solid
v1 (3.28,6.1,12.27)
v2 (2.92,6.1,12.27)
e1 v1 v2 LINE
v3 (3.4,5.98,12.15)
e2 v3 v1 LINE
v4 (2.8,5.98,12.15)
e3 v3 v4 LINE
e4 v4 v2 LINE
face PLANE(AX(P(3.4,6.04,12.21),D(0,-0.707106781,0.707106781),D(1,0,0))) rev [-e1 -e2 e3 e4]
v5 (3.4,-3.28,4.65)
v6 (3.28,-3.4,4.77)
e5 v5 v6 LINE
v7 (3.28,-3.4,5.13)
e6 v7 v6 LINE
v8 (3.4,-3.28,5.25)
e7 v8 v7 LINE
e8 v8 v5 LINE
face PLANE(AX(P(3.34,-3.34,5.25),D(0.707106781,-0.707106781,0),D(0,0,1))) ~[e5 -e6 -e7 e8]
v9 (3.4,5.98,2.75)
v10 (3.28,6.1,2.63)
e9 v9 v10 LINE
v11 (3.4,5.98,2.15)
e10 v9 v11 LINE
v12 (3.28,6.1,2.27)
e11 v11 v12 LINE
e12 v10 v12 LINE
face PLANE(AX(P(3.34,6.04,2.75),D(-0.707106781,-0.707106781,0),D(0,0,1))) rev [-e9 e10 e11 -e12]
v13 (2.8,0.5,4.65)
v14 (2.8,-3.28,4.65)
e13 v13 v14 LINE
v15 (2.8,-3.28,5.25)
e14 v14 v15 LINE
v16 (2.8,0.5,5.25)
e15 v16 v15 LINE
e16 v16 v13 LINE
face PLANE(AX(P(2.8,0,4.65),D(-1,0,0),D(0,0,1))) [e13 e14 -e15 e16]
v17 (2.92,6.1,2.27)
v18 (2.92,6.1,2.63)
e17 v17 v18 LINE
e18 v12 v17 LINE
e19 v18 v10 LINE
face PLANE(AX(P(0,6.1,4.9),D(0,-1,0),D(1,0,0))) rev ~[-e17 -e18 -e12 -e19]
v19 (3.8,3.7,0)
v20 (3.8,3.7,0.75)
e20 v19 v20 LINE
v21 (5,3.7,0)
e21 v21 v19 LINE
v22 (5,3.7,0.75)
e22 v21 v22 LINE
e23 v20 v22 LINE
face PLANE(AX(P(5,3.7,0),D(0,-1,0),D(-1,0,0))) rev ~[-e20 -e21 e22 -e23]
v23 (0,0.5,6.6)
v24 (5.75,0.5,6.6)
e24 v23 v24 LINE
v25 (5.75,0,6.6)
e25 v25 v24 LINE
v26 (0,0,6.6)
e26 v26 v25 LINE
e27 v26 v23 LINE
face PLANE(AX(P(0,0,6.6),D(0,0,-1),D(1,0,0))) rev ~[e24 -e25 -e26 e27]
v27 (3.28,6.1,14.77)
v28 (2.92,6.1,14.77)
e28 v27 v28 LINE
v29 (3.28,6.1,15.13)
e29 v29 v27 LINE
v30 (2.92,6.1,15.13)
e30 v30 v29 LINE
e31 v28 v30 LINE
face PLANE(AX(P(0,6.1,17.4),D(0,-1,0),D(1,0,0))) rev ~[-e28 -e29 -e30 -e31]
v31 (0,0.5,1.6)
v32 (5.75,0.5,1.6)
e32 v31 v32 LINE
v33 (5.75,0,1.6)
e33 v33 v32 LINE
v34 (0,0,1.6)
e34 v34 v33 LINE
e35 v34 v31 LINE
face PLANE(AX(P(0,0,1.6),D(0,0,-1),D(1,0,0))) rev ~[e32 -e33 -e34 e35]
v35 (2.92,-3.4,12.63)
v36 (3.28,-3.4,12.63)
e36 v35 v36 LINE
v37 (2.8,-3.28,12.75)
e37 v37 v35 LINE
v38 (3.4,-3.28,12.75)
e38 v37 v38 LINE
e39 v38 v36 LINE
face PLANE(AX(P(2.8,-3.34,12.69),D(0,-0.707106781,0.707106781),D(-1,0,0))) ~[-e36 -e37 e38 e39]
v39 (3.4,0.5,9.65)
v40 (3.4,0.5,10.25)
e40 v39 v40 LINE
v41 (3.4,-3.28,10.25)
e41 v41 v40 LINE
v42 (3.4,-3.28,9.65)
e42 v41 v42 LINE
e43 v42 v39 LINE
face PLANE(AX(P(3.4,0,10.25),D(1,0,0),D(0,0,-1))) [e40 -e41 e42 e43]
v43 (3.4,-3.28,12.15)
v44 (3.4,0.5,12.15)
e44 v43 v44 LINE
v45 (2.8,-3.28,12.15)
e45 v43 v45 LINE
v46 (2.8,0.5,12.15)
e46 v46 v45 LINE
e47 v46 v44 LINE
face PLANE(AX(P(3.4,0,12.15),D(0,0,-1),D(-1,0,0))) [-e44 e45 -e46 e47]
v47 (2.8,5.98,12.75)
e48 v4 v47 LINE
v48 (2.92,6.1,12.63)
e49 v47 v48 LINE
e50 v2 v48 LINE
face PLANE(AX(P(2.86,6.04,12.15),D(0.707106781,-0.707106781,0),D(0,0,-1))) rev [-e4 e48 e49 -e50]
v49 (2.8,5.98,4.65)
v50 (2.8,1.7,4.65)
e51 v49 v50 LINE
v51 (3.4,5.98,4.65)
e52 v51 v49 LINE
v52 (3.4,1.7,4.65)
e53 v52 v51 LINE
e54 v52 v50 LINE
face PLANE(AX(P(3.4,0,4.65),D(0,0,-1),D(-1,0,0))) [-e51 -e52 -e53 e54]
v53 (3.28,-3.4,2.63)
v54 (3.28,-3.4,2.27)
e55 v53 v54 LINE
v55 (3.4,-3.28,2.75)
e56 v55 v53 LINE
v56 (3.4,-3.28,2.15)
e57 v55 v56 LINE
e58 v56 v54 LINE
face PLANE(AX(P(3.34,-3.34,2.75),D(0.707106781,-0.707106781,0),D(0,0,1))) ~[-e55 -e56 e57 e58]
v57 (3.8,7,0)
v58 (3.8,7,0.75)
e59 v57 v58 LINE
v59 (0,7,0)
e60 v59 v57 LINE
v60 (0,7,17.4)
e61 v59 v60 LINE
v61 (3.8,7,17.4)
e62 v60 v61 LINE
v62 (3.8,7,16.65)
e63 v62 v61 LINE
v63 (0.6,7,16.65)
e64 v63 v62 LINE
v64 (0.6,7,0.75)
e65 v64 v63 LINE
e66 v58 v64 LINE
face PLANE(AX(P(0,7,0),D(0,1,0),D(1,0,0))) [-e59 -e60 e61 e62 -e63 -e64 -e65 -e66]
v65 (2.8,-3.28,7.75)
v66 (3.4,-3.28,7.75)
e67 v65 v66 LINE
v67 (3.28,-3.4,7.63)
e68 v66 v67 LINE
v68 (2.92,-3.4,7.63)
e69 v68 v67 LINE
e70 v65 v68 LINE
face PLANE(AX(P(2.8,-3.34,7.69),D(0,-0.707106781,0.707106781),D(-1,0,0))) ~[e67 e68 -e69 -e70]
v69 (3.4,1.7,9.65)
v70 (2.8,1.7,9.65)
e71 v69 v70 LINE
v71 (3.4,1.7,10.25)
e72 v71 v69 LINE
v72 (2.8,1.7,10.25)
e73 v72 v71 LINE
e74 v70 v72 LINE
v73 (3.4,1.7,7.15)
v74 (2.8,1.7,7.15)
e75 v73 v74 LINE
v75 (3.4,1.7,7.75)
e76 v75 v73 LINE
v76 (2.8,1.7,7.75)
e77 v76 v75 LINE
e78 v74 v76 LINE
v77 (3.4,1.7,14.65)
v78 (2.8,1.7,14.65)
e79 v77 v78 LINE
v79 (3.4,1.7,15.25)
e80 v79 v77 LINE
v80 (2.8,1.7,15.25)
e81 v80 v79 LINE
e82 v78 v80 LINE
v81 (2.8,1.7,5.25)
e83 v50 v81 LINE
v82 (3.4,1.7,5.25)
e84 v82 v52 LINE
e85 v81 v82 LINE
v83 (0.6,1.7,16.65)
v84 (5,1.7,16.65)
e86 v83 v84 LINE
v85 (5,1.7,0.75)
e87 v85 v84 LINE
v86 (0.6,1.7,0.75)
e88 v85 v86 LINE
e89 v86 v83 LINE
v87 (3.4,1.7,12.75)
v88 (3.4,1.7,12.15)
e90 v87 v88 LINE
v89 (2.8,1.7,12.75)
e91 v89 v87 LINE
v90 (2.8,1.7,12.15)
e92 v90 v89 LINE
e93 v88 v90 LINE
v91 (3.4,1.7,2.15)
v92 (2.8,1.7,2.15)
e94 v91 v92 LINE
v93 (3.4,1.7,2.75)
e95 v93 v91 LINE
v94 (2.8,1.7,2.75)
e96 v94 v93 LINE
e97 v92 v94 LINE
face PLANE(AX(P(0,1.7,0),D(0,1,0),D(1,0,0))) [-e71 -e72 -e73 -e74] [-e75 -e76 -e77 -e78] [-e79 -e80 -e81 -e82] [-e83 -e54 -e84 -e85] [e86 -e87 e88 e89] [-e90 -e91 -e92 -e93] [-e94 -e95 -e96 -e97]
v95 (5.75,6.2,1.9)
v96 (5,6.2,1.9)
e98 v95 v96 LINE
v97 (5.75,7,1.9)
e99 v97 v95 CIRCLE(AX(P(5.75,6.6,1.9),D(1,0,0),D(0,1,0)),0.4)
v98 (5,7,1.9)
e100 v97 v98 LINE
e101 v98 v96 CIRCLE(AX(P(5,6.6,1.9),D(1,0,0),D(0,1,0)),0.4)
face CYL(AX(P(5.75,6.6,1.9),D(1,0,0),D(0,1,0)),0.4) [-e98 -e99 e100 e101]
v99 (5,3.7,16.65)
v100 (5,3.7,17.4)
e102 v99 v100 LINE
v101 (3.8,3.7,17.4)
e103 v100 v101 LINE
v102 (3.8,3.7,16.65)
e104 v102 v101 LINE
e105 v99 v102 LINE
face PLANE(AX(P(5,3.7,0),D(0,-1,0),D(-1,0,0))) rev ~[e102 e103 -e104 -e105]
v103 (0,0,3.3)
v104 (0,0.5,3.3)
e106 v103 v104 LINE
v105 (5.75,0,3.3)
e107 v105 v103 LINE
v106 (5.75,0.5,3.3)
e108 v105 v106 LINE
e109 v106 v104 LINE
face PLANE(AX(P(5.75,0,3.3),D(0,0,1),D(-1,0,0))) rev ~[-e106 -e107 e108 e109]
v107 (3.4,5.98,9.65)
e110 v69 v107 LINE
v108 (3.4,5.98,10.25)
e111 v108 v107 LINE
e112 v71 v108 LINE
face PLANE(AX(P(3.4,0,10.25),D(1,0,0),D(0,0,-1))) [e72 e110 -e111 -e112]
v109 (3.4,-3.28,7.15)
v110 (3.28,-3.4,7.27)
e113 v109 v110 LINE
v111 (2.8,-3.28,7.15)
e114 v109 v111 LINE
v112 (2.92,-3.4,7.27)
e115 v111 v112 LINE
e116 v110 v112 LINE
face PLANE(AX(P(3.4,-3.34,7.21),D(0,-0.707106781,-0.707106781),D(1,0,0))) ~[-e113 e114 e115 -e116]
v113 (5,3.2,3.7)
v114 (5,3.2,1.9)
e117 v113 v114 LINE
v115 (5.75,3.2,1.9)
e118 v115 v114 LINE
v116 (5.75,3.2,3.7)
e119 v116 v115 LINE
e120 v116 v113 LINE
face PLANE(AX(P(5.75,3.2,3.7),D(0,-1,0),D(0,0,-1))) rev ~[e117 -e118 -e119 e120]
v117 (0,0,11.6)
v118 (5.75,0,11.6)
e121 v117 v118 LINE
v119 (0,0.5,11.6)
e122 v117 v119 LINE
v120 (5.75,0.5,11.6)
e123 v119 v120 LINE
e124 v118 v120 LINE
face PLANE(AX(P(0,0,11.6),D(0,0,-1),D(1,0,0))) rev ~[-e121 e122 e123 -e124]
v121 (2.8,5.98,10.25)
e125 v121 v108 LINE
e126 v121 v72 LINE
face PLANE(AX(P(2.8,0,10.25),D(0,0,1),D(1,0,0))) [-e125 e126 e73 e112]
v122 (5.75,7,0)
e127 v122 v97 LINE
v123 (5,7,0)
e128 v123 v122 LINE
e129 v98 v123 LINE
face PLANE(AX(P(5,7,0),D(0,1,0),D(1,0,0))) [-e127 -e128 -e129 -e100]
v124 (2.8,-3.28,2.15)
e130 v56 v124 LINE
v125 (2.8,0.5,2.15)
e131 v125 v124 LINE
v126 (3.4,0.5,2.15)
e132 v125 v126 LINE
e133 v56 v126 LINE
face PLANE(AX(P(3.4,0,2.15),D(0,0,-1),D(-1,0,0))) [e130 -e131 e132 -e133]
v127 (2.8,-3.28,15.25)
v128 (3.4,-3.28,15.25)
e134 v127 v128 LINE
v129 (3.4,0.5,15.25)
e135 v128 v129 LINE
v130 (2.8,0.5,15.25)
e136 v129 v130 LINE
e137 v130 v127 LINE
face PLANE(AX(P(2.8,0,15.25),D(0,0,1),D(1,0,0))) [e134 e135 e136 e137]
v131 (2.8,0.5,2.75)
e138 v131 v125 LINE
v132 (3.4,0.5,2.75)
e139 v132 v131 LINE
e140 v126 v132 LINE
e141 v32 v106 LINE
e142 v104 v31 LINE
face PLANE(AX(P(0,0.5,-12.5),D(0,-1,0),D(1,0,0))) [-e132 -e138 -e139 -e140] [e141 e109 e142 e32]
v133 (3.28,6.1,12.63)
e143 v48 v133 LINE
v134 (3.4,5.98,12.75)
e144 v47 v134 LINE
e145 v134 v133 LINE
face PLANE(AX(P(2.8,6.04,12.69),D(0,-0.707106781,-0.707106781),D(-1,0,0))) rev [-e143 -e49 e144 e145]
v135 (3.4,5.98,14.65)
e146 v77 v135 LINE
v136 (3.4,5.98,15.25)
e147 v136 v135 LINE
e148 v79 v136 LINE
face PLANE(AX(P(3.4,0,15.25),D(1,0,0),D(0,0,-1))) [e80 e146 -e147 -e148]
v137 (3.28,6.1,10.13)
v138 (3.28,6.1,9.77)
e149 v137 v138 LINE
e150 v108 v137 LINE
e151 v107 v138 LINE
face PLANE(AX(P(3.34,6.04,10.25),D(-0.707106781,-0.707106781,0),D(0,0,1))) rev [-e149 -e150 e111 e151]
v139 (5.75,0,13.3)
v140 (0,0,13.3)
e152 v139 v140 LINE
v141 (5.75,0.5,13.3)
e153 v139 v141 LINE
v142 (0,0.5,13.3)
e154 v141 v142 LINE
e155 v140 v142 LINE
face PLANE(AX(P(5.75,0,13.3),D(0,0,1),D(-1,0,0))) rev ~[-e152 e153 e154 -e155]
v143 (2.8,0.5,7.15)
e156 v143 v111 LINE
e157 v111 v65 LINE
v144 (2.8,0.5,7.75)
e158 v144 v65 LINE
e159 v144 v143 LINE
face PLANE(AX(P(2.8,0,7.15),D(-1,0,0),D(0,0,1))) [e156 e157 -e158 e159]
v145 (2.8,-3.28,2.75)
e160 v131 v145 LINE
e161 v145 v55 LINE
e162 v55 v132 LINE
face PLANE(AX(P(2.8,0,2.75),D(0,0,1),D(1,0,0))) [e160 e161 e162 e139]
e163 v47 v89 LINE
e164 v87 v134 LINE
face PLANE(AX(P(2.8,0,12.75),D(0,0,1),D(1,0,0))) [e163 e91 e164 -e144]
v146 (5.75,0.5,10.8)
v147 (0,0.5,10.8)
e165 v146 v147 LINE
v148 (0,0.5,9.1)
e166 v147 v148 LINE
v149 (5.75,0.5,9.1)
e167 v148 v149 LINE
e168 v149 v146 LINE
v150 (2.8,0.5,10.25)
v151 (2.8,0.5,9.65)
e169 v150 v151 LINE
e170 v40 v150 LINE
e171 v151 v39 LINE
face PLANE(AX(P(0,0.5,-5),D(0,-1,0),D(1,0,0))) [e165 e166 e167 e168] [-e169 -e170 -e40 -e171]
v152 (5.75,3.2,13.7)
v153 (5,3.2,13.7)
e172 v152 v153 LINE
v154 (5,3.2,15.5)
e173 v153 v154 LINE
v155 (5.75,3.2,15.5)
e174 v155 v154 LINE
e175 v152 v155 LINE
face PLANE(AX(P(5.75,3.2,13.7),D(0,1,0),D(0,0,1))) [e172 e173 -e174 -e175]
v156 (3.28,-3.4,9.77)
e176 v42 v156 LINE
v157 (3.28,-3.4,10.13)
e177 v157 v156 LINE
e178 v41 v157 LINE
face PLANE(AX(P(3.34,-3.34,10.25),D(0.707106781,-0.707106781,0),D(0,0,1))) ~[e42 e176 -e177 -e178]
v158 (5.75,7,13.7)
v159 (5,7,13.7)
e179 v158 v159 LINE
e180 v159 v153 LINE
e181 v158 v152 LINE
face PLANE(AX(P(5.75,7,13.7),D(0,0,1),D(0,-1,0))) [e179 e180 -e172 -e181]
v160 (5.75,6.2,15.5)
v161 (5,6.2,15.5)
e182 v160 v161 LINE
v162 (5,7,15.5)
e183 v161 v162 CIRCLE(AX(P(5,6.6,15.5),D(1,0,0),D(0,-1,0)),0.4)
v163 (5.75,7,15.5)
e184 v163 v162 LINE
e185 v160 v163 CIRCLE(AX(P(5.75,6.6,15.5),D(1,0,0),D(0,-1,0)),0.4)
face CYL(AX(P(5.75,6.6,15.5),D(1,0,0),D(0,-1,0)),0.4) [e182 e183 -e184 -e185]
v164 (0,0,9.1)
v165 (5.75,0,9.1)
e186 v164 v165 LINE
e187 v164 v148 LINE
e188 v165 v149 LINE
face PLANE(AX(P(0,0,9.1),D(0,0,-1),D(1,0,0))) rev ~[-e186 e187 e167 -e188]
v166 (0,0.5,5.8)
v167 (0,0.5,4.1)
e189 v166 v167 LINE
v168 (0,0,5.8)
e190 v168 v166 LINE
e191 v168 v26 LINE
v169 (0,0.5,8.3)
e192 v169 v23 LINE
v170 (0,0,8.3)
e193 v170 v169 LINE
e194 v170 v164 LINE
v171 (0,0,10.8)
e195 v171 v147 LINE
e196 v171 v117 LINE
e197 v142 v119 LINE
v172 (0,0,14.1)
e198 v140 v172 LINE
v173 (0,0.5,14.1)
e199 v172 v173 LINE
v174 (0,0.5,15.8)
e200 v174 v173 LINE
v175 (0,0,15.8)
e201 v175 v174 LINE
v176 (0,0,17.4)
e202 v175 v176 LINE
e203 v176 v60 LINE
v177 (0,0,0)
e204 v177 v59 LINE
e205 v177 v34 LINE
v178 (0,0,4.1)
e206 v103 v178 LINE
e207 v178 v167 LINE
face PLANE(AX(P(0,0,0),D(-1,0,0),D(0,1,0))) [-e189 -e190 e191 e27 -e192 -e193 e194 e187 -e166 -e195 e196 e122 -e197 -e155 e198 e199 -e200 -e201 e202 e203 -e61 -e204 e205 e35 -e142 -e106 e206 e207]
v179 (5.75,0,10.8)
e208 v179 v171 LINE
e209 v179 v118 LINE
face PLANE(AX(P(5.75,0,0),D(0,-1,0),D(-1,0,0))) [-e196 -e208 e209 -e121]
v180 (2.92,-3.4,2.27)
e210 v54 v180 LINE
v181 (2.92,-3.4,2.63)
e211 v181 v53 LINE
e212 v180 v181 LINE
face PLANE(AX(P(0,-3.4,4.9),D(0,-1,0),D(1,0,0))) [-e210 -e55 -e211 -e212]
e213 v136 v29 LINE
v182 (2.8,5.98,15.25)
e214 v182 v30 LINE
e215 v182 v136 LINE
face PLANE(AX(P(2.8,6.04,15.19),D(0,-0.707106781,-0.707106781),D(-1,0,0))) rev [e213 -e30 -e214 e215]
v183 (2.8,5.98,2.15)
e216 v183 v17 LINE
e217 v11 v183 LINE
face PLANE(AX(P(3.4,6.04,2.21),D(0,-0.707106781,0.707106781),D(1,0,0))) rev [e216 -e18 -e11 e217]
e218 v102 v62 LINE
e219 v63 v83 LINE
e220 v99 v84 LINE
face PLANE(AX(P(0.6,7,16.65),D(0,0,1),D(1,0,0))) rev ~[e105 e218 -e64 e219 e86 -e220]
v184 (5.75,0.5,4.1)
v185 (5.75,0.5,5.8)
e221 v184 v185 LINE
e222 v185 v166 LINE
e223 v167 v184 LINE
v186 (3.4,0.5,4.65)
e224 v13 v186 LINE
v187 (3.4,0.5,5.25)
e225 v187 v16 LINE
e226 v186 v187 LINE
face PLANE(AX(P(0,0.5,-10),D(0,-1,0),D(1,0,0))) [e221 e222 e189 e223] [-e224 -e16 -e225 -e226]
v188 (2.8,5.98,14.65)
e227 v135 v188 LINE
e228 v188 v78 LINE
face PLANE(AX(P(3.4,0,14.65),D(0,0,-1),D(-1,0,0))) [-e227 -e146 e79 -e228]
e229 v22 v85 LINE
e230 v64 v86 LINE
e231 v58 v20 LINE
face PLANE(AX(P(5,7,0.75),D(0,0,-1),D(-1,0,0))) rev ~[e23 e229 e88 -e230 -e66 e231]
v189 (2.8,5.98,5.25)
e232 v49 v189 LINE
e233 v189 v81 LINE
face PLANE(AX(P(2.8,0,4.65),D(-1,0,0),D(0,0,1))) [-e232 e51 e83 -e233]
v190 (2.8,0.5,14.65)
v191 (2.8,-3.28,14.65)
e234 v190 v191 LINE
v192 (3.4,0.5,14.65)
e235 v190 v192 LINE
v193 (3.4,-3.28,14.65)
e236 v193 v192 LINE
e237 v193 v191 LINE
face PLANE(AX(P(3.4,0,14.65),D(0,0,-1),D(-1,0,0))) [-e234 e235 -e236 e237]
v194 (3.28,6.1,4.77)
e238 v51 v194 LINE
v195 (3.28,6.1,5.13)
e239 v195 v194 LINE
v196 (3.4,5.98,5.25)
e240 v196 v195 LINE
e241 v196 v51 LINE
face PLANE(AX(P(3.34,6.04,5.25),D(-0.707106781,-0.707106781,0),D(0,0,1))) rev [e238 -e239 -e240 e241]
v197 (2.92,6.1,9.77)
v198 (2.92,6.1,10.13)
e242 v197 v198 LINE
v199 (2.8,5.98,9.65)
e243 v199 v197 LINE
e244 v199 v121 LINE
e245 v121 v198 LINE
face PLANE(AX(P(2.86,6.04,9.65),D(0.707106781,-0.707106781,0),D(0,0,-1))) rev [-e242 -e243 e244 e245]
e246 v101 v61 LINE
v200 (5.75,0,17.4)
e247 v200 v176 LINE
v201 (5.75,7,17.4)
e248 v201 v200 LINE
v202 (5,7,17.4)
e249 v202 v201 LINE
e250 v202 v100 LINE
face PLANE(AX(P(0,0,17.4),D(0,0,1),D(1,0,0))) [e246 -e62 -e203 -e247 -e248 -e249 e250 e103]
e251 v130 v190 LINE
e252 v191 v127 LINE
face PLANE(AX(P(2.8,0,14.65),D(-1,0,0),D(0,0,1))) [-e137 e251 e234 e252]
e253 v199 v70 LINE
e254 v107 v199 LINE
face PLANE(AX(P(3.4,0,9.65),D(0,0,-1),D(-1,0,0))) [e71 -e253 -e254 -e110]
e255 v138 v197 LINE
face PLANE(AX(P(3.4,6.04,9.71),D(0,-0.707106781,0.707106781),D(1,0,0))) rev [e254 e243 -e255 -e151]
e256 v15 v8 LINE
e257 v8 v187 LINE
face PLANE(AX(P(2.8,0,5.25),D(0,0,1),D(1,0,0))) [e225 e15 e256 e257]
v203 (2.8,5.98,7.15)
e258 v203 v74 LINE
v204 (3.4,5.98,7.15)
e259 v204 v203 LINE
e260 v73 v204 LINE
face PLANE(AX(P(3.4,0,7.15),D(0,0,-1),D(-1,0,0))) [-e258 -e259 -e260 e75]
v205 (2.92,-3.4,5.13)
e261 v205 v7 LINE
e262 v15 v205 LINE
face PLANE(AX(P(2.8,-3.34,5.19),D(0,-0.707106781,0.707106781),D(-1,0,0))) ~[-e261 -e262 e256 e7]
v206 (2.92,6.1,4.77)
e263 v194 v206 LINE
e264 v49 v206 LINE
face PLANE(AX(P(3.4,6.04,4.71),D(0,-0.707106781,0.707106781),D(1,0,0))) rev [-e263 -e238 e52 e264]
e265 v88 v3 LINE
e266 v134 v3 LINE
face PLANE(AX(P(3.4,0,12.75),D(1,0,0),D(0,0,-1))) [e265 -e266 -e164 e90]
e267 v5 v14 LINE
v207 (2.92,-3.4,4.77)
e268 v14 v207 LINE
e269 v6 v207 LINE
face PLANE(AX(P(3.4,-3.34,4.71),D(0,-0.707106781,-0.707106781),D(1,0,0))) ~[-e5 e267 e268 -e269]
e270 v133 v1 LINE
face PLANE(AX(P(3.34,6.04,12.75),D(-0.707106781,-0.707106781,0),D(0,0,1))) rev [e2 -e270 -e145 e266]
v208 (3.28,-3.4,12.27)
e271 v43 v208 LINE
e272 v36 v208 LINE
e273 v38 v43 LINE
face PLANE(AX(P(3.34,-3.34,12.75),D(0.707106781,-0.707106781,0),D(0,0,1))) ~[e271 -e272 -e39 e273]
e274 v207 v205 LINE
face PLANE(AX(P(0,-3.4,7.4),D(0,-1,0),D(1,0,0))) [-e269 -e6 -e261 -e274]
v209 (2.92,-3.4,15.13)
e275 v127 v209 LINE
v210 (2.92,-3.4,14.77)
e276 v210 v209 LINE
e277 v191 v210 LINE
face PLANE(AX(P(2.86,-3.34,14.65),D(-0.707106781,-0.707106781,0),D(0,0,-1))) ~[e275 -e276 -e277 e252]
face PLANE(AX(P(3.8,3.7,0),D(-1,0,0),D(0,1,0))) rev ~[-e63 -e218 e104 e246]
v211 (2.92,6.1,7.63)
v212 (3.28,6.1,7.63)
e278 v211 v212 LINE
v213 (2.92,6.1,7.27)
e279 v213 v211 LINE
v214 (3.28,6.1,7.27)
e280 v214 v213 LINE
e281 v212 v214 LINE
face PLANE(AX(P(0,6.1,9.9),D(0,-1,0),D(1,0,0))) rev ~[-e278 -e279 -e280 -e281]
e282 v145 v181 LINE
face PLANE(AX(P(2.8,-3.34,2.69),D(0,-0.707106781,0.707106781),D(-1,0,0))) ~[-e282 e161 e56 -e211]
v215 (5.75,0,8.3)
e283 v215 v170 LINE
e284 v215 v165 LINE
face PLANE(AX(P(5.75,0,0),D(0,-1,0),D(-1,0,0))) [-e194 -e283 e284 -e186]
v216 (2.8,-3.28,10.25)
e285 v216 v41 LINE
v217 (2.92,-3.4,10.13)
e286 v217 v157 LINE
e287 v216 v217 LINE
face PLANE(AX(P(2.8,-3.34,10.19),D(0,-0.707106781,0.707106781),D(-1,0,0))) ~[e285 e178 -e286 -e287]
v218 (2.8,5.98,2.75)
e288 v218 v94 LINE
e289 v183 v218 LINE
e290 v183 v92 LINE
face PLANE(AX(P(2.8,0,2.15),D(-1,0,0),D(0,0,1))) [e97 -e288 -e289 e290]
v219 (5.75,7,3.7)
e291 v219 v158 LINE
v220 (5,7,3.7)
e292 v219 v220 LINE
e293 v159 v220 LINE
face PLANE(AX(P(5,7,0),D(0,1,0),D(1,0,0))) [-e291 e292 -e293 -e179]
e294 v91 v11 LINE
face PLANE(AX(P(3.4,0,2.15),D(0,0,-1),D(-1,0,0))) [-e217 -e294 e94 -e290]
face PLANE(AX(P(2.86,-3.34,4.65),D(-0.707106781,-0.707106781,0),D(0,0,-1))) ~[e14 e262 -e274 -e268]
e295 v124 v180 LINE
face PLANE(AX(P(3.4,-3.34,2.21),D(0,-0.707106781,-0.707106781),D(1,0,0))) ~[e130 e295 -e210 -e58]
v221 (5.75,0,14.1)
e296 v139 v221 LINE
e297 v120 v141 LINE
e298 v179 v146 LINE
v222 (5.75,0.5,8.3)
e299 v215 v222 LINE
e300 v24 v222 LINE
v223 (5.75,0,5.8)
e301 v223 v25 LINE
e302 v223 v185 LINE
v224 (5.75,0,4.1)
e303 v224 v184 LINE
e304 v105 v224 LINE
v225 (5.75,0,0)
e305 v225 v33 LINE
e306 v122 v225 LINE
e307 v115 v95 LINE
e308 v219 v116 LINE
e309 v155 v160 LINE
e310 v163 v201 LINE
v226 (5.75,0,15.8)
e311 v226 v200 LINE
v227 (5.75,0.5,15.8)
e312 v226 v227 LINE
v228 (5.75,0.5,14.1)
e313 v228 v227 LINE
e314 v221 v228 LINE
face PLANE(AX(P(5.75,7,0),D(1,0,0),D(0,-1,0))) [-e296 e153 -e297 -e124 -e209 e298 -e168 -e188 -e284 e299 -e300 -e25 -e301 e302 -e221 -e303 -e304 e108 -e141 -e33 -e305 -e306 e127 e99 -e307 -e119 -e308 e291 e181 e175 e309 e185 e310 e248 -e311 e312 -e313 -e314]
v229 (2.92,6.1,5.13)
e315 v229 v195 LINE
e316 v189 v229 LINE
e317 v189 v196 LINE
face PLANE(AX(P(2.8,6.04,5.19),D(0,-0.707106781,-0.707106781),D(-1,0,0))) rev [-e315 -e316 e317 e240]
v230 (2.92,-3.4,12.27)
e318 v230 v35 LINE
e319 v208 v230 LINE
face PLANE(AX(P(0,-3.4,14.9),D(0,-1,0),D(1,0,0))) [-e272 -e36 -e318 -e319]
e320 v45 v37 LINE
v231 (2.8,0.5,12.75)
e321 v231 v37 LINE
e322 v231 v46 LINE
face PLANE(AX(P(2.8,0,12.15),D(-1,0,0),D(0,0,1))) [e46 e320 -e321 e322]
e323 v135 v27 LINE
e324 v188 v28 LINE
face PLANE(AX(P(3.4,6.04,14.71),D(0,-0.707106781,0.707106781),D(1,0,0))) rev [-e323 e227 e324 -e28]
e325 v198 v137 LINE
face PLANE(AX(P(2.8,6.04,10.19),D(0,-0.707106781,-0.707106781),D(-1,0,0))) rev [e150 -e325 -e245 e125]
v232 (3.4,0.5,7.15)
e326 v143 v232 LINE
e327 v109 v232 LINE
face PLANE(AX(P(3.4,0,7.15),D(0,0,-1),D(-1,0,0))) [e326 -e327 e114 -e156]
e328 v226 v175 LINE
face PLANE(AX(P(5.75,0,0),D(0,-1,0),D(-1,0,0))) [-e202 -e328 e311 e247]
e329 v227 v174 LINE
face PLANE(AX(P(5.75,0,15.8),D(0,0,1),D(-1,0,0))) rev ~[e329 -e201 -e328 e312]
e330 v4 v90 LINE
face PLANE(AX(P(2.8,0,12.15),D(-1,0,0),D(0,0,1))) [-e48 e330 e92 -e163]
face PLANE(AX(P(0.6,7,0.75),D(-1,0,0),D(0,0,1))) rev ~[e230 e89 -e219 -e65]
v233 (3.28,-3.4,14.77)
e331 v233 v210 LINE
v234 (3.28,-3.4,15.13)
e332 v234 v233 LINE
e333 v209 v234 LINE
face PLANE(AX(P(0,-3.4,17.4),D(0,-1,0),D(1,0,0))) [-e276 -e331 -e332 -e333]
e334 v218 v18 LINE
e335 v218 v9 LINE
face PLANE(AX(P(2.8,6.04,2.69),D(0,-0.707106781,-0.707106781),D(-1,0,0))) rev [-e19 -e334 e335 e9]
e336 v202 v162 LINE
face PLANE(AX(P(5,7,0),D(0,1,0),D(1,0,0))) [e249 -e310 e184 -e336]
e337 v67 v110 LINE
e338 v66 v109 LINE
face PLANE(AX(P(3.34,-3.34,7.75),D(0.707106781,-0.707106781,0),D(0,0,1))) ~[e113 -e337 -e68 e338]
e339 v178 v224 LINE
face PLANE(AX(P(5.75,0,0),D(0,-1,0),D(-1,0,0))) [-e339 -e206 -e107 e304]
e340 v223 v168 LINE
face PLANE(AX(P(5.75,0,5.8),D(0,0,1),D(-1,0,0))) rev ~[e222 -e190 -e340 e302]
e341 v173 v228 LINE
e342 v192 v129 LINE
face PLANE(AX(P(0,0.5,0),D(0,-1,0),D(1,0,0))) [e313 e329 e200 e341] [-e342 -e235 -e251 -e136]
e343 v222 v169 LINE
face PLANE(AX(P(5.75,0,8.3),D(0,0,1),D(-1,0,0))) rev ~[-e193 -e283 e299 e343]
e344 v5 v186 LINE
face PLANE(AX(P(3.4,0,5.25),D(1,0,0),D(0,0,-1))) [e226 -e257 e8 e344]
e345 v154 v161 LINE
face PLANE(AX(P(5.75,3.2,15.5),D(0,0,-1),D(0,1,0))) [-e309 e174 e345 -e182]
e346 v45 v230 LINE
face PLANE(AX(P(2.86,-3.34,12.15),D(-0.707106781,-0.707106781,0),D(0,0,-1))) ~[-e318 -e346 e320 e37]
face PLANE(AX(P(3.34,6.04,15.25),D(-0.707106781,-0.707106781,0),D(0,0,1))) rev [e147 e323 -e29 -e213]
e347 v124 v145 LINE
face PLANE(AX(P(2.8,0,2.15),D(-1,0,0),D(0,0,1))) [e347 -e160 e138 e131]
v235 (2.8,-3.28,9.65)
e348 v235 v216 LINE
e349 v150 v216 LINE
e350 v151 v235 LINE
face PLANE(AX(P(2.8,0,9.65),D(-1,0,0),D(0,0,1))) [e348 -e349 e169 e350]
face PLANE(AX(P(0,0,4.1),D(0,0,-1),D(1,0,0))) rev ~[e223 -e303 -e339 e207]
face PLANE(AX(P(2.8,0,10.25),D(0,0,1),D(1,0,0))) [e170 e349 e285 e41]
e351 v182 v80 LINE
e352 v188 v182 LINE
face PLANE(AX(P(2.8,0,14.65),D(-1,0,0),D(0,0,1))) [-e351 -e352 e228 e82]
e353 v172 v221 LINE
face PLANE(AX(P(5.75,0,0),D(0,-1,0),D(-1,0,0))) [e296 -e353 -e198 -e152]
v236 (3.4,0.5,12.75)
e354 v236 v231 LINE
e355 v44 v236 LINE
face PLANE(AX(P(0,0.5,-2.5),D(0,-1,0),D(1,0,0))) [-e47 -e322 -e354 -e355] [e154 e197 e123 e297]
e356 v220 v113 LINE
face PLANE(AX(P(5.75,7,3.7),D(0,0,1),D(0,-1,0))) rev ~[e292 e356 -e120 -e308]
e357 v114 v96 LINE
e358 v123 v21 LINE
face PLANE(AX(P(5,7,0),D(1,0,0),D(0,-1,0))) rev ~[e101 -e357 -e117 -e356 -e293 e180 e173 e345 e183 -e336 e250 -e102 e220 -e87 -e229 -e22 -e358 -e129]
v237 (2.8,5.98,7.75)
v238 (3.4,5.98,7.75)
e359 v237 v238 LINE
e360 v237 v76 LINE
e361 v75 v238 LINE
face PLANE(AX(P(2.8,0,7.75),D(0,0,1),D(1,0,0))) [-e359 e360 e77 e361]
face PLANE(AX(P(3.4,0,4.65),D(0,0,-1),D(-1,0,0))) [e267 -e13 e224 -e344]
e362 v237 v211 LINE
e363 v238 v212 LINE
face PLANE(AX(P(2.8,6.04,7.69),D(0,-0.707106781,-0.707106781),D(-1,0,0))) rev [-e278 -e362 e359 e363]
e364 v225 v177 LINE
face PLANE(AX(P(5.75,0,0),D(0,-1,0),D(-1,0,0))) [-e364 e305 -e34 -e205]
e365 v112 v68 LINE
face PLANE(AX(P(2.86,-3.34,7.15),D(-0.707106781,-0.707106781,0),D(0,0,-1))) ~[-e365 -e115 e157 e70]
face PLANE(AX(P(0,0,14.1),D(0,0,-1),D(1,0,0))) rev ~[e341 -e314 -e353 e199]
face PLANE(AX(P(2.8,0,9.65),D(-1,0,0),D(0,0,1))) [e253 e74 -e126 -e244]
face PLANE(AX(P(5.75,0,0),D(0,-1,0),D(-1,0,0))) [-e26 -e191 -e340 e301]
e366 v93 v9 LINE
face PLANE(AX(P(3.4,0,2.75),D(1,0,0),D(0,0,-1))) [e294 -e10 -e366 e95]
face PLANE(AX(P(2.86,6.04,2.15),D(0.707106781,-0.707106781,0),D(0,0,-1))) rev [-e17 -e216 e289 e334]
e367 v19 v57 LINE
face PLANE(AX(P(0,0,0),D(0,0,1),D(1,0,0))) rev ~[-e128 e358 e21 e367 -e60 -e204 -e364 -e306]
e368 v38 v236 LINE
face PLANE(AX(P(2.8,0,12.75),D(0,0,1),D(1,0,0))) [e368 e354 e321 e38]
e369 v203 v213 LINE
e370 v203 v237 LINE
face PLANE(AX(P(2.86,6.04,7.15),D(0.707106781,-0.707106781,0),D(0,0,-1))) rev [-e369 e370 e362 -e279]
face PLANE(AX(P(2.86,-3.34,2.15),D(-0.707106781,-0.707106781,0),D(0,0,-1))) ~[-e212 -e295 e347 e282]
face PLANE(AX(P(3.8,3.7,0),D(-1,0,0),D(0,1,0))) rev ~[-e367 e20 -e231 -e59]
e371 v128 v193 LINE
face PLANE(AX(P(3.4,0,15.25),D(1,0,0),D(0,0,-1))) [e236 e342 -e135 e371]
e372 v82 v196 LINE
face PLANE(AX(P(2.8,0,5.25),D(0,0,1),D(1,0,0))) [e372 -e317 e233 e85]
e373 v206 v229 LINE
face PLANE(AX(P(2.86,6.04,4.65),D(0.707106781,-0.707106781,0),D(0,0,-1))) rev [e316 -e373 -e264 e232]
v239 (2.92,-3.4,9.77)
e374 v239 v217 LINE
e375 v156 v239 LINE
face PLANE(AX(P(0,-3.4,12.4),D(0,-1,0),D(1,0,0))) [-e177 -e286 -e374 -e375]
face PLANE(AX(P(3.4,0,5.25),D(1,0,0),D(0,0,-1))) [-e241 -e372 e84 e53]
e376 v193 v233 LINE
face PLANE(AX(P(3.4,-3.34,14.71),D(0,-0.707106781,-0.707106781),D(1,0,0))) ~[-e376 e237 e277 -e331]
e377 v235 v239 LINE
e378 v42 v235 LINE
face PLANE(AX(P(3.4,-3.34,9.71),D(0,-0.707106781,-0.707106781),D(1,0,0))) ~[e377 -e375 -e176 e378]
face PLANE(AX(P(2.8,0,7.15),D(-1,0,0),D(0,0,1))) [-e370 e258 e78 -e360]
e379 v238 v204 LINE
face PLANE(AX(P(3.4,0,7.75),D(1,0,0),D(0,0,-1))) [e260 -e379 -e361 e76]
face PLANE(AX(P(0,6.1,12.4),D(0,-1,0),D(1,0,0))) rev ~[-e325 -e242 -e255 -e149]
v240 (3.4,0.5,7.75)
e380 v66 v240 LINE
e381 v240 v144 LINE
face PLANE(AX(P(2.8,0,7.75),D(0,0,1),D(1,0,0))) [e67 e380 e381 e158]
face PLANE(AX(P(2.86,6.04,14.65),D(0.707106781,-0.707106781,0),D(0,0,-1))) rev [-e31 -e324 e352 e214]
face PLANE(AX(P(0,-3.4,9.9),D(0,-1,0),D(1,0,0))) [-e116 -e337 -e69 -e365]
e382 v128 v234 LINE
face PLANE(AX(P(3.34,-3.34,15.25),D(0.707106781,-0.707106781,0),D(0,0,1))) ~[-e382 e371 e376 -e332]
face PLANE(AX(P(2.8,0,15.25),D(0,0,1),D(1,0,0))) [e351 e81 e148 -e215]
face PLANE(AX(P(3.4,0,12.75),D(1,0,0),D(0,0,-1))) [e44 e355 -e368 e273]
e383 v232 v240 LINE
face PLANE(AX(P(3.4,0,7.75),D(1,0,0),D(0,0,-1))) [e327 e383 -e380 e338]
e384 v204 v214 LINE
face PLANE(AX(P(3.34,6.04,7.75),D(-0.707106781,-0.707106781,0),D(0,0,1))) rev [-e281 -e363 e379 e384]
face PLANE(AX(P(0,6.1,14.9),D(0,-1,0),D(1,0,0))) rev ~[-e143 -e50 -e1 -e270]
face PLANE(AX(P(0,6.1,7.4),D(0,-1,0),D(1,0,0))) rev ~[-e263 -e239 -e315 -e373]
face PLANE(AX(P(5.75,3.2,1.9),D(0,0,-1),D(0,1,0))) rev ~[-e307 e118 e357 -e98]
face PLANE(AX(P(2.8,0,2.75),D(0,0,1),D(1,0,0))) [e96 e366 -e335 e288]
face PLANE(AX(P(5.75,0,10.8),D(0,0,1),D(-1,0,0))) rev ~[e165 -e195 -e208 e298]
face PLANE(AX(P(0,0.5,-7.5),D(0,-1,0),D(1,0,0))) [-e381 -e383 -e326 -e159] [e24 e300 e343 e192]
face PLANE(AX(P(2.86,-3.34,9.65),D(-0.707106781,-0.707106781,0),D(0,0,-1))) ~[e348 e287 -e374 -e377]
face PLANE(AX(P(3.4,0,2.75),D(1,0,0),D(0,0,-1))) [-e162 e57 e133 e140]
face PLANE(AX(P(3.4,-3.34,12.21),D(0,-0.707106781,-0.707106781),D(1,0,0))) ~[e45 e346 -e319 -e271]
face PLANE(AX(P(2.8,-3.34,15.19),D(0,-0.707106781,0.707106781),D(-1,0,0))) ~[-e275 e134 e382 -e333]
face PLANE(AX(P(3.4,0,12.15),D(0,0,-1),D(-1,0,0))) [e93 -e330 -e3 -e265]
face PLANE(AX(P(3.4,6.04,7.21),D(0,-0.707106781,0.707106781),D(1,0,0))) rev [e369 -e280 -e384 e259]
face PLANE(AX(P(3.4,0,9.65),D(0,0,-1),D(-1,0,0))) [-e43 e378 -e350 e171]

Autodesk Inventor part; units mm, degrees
ref_plane "YZ Plane" through (0, 0, 0) normal (1, 0, 0) x (0, 1, 0)
ref_plane "XZ Plane" through (0, 0, 0) normal (0, 1, 0) x (-1, 0, 0)
ref_plane "XY Plane" through (0, 0, 0) normal (0, 0, 1) x (1, 0, 0)
sketch "Sketch1" plane through (0, 0, 0) normal (0, 0, 1) x (1, 0, 0)
  line L0 (0, 7) -> (5.75, 7)
  line L1 (5.75, 7) -> (5.75, 0)
  line L2 (5.75, 0) -> (0, 0)
  line L3 (0, 0) -> (0, 7)
  line L4 (3.8, 7) -> (5, 7)
  line L5 (5, 7) -> (5, 3.7)
  line L6 (5, 3.7) -> (3.8, 3.7)
  line L7 (3.8, 3.7) -> (3.8, 7)
  dimension "d0" = 5.75
  dimension "d1" = 7
  dimension "d2" = 1.2
  dimension "d3" = 3.8
  dimension "d4" = 3.3
  dimension "d5" = 0.75
extrude "Extrusion2" add sketch "Sketch1" along normal blind 17.4 contours L0 L7 L6 L5 L1 L2 L3
sketch "Sketch2" plane through (0, 7, 0) normal (0, 1, 0) x (1, 0, 0)
  line L0 (5, 0) -> (5, -17.4) projected
  line L1 (0.6, -16.65) -> (5, -16.65)
  line L2 (5, -16.65) -> (5, -0.75)
  line L3 (5, -0.75) -> (0.6, -0.75)
  line L4 (0.6, -0.75) -> (0.6, -16.65)
  line L5 (3.8, -17.4) -> (0, -17.4) projected
  line L6 (3.8, 0) -> (0, 0) projected
  line L7 (0, 0) -> (0, -17.4) projected
  dimension "d10" = 0.75
  dimension "d11" = 0.75
  dimension "d12" = 0.6
extrude "Extrusion3" cut sketch "Sketch2" against normal blind 5.3
sketch "Sketch3" plane through (5.75, 0, 0) normal (1, 0, 0) x (0, 0, -1)
  line L0 (-15.5, 7) -> (-13.7, 7)
  line L1 (-13.7, 7) -> (-13.7, 3.2)
  line L2 (-13.7, 3.2) -> (-15.5, 3.2)
  line L3 (-15.5, 3.2) -> (-15.5, 7)
  line L4 (-17.4, 0) -> (-17.4, 7) projected
  line L5 (0, 7) -> (-17.4, 7) projected
  arc A0 (-15.5, 6.2) -> (-15.5, 7) centre (-15.5, 6.6) ccw
  line L6 (-1.9, 7) -> (-3.7, 7)
  line L7 (-3.7, 7) -> (-3.7, 3.2)
  line L8 (-3.7, 3.2) -> (-1.9, 3.2)
  line L9 (-1.9, 3.2) -> (-1.9, 7)
  line L10 (0, 0) -> (0, 7) projected
  arc A1 (-1.9, 7) -> (-1.9, 6.2) centre (-1.9, 6.6) ccw
  dimension "d15" = 1.8
  dimension "d16" = 1.9
  dimension "d17" = 3.8
  dimension "d18" = 0.8
  dimension "d20" = 1.8
  dimension "d21" = 3.8
  dimension "d22" = 1.9
  dimension "d23" = 0.8
extrude "Extrusion4" cut sketch "Sketch3" against normal blind 1 contours L5 A1 L9 L8 L7 | L0 L1 L2 L3 A0
sketch "Sketch4" plane through (0, 0, 0) normal (0, -1, 0) x (1, 0, 0)
  line L0 (5.75, 0) -> (5.75, 17.4) projected
  line L1 (0, 14.1) -> (5.75, 14.1)
  line L2 (5.75, 14.1) -> (5.75, 15.8)
  line L3 (5.75, 15.8) -> (0, 15.8)
  line L4 (0, 15.8) -> (0, 14.1)
  line L5 (0, 0) -> (0, 17.4) projected
  line L6 (0, 0) -> (5.75, 0) projected
  line L7 (0, 17.4) -> (5.75, 17.4) projected
  dimension "d27" = 1.7
  dimension "d36" = 17.4
  dimension "d43" = 1.6
extrude "Extrusion5" cut sketch "Sketch4" against normal blind 0.5 contours L1 L4 L3 L0
pattern_linear "Rectangular Pattern2" count 6 spacing 2.5 along (0, 0, -1) of "Extrusion5"
sketch "Sketch5" plane through (0, 0, 17.4) normal (0, -1, 0) x (1, 0, 0)
  line L0 (2.8, -2.15) -> (3.4, -2.15)
  line L1 (3.4, -2.15) -> (3.4, -2.75)
  line L2 (3.4, -2.75) -> (2.8, -2.75)
  line L3 (2.8, -2.75) -> (2.8, -2.15)
  line L4 (0, 0) -> (5.75, 0) projected
  line L5 (5.75, -1.6) -> (5.75, -3.3) projected
  point P0 (0, -17.4)
  dimension "d47" = 0.6
  dimension "d48" = 0.6
  dimension "d49" = 2.15
  dimension "d50" = 2.35
extrude "Extrusion6" add sketch "Sketch5" along normal blind 3.4 and the other way blind 6.1
chamfer "Chamfer1" distance 0.12 angle 45 8 edges at (3.1, -3.4, 15.25) (3.4, -3.4, 14.95) (3.1, -3.4, 14.65) (2.8, -3.4, 14.95) (3.4, 6.1, 14.95) (3.1, 6.1, 15.25) (2.8, 6.1, 14.95) (3.1, 6.1, 14.65)
pattern_linear "Rectangular Pattern3" count 6 spacing 2.5 along (0, 0, -1) of "Extrusion6", "Chamfer1"
equation "\"d11\" = d10"
equation "\"d20\" = d15"
equation "\"d22\" = d16"
equation "\"d23\" = d18"
equation "\"d49\" = 0.5 * d27 + d43 - 0.5 * d48"
properties part number "XH-6A"
